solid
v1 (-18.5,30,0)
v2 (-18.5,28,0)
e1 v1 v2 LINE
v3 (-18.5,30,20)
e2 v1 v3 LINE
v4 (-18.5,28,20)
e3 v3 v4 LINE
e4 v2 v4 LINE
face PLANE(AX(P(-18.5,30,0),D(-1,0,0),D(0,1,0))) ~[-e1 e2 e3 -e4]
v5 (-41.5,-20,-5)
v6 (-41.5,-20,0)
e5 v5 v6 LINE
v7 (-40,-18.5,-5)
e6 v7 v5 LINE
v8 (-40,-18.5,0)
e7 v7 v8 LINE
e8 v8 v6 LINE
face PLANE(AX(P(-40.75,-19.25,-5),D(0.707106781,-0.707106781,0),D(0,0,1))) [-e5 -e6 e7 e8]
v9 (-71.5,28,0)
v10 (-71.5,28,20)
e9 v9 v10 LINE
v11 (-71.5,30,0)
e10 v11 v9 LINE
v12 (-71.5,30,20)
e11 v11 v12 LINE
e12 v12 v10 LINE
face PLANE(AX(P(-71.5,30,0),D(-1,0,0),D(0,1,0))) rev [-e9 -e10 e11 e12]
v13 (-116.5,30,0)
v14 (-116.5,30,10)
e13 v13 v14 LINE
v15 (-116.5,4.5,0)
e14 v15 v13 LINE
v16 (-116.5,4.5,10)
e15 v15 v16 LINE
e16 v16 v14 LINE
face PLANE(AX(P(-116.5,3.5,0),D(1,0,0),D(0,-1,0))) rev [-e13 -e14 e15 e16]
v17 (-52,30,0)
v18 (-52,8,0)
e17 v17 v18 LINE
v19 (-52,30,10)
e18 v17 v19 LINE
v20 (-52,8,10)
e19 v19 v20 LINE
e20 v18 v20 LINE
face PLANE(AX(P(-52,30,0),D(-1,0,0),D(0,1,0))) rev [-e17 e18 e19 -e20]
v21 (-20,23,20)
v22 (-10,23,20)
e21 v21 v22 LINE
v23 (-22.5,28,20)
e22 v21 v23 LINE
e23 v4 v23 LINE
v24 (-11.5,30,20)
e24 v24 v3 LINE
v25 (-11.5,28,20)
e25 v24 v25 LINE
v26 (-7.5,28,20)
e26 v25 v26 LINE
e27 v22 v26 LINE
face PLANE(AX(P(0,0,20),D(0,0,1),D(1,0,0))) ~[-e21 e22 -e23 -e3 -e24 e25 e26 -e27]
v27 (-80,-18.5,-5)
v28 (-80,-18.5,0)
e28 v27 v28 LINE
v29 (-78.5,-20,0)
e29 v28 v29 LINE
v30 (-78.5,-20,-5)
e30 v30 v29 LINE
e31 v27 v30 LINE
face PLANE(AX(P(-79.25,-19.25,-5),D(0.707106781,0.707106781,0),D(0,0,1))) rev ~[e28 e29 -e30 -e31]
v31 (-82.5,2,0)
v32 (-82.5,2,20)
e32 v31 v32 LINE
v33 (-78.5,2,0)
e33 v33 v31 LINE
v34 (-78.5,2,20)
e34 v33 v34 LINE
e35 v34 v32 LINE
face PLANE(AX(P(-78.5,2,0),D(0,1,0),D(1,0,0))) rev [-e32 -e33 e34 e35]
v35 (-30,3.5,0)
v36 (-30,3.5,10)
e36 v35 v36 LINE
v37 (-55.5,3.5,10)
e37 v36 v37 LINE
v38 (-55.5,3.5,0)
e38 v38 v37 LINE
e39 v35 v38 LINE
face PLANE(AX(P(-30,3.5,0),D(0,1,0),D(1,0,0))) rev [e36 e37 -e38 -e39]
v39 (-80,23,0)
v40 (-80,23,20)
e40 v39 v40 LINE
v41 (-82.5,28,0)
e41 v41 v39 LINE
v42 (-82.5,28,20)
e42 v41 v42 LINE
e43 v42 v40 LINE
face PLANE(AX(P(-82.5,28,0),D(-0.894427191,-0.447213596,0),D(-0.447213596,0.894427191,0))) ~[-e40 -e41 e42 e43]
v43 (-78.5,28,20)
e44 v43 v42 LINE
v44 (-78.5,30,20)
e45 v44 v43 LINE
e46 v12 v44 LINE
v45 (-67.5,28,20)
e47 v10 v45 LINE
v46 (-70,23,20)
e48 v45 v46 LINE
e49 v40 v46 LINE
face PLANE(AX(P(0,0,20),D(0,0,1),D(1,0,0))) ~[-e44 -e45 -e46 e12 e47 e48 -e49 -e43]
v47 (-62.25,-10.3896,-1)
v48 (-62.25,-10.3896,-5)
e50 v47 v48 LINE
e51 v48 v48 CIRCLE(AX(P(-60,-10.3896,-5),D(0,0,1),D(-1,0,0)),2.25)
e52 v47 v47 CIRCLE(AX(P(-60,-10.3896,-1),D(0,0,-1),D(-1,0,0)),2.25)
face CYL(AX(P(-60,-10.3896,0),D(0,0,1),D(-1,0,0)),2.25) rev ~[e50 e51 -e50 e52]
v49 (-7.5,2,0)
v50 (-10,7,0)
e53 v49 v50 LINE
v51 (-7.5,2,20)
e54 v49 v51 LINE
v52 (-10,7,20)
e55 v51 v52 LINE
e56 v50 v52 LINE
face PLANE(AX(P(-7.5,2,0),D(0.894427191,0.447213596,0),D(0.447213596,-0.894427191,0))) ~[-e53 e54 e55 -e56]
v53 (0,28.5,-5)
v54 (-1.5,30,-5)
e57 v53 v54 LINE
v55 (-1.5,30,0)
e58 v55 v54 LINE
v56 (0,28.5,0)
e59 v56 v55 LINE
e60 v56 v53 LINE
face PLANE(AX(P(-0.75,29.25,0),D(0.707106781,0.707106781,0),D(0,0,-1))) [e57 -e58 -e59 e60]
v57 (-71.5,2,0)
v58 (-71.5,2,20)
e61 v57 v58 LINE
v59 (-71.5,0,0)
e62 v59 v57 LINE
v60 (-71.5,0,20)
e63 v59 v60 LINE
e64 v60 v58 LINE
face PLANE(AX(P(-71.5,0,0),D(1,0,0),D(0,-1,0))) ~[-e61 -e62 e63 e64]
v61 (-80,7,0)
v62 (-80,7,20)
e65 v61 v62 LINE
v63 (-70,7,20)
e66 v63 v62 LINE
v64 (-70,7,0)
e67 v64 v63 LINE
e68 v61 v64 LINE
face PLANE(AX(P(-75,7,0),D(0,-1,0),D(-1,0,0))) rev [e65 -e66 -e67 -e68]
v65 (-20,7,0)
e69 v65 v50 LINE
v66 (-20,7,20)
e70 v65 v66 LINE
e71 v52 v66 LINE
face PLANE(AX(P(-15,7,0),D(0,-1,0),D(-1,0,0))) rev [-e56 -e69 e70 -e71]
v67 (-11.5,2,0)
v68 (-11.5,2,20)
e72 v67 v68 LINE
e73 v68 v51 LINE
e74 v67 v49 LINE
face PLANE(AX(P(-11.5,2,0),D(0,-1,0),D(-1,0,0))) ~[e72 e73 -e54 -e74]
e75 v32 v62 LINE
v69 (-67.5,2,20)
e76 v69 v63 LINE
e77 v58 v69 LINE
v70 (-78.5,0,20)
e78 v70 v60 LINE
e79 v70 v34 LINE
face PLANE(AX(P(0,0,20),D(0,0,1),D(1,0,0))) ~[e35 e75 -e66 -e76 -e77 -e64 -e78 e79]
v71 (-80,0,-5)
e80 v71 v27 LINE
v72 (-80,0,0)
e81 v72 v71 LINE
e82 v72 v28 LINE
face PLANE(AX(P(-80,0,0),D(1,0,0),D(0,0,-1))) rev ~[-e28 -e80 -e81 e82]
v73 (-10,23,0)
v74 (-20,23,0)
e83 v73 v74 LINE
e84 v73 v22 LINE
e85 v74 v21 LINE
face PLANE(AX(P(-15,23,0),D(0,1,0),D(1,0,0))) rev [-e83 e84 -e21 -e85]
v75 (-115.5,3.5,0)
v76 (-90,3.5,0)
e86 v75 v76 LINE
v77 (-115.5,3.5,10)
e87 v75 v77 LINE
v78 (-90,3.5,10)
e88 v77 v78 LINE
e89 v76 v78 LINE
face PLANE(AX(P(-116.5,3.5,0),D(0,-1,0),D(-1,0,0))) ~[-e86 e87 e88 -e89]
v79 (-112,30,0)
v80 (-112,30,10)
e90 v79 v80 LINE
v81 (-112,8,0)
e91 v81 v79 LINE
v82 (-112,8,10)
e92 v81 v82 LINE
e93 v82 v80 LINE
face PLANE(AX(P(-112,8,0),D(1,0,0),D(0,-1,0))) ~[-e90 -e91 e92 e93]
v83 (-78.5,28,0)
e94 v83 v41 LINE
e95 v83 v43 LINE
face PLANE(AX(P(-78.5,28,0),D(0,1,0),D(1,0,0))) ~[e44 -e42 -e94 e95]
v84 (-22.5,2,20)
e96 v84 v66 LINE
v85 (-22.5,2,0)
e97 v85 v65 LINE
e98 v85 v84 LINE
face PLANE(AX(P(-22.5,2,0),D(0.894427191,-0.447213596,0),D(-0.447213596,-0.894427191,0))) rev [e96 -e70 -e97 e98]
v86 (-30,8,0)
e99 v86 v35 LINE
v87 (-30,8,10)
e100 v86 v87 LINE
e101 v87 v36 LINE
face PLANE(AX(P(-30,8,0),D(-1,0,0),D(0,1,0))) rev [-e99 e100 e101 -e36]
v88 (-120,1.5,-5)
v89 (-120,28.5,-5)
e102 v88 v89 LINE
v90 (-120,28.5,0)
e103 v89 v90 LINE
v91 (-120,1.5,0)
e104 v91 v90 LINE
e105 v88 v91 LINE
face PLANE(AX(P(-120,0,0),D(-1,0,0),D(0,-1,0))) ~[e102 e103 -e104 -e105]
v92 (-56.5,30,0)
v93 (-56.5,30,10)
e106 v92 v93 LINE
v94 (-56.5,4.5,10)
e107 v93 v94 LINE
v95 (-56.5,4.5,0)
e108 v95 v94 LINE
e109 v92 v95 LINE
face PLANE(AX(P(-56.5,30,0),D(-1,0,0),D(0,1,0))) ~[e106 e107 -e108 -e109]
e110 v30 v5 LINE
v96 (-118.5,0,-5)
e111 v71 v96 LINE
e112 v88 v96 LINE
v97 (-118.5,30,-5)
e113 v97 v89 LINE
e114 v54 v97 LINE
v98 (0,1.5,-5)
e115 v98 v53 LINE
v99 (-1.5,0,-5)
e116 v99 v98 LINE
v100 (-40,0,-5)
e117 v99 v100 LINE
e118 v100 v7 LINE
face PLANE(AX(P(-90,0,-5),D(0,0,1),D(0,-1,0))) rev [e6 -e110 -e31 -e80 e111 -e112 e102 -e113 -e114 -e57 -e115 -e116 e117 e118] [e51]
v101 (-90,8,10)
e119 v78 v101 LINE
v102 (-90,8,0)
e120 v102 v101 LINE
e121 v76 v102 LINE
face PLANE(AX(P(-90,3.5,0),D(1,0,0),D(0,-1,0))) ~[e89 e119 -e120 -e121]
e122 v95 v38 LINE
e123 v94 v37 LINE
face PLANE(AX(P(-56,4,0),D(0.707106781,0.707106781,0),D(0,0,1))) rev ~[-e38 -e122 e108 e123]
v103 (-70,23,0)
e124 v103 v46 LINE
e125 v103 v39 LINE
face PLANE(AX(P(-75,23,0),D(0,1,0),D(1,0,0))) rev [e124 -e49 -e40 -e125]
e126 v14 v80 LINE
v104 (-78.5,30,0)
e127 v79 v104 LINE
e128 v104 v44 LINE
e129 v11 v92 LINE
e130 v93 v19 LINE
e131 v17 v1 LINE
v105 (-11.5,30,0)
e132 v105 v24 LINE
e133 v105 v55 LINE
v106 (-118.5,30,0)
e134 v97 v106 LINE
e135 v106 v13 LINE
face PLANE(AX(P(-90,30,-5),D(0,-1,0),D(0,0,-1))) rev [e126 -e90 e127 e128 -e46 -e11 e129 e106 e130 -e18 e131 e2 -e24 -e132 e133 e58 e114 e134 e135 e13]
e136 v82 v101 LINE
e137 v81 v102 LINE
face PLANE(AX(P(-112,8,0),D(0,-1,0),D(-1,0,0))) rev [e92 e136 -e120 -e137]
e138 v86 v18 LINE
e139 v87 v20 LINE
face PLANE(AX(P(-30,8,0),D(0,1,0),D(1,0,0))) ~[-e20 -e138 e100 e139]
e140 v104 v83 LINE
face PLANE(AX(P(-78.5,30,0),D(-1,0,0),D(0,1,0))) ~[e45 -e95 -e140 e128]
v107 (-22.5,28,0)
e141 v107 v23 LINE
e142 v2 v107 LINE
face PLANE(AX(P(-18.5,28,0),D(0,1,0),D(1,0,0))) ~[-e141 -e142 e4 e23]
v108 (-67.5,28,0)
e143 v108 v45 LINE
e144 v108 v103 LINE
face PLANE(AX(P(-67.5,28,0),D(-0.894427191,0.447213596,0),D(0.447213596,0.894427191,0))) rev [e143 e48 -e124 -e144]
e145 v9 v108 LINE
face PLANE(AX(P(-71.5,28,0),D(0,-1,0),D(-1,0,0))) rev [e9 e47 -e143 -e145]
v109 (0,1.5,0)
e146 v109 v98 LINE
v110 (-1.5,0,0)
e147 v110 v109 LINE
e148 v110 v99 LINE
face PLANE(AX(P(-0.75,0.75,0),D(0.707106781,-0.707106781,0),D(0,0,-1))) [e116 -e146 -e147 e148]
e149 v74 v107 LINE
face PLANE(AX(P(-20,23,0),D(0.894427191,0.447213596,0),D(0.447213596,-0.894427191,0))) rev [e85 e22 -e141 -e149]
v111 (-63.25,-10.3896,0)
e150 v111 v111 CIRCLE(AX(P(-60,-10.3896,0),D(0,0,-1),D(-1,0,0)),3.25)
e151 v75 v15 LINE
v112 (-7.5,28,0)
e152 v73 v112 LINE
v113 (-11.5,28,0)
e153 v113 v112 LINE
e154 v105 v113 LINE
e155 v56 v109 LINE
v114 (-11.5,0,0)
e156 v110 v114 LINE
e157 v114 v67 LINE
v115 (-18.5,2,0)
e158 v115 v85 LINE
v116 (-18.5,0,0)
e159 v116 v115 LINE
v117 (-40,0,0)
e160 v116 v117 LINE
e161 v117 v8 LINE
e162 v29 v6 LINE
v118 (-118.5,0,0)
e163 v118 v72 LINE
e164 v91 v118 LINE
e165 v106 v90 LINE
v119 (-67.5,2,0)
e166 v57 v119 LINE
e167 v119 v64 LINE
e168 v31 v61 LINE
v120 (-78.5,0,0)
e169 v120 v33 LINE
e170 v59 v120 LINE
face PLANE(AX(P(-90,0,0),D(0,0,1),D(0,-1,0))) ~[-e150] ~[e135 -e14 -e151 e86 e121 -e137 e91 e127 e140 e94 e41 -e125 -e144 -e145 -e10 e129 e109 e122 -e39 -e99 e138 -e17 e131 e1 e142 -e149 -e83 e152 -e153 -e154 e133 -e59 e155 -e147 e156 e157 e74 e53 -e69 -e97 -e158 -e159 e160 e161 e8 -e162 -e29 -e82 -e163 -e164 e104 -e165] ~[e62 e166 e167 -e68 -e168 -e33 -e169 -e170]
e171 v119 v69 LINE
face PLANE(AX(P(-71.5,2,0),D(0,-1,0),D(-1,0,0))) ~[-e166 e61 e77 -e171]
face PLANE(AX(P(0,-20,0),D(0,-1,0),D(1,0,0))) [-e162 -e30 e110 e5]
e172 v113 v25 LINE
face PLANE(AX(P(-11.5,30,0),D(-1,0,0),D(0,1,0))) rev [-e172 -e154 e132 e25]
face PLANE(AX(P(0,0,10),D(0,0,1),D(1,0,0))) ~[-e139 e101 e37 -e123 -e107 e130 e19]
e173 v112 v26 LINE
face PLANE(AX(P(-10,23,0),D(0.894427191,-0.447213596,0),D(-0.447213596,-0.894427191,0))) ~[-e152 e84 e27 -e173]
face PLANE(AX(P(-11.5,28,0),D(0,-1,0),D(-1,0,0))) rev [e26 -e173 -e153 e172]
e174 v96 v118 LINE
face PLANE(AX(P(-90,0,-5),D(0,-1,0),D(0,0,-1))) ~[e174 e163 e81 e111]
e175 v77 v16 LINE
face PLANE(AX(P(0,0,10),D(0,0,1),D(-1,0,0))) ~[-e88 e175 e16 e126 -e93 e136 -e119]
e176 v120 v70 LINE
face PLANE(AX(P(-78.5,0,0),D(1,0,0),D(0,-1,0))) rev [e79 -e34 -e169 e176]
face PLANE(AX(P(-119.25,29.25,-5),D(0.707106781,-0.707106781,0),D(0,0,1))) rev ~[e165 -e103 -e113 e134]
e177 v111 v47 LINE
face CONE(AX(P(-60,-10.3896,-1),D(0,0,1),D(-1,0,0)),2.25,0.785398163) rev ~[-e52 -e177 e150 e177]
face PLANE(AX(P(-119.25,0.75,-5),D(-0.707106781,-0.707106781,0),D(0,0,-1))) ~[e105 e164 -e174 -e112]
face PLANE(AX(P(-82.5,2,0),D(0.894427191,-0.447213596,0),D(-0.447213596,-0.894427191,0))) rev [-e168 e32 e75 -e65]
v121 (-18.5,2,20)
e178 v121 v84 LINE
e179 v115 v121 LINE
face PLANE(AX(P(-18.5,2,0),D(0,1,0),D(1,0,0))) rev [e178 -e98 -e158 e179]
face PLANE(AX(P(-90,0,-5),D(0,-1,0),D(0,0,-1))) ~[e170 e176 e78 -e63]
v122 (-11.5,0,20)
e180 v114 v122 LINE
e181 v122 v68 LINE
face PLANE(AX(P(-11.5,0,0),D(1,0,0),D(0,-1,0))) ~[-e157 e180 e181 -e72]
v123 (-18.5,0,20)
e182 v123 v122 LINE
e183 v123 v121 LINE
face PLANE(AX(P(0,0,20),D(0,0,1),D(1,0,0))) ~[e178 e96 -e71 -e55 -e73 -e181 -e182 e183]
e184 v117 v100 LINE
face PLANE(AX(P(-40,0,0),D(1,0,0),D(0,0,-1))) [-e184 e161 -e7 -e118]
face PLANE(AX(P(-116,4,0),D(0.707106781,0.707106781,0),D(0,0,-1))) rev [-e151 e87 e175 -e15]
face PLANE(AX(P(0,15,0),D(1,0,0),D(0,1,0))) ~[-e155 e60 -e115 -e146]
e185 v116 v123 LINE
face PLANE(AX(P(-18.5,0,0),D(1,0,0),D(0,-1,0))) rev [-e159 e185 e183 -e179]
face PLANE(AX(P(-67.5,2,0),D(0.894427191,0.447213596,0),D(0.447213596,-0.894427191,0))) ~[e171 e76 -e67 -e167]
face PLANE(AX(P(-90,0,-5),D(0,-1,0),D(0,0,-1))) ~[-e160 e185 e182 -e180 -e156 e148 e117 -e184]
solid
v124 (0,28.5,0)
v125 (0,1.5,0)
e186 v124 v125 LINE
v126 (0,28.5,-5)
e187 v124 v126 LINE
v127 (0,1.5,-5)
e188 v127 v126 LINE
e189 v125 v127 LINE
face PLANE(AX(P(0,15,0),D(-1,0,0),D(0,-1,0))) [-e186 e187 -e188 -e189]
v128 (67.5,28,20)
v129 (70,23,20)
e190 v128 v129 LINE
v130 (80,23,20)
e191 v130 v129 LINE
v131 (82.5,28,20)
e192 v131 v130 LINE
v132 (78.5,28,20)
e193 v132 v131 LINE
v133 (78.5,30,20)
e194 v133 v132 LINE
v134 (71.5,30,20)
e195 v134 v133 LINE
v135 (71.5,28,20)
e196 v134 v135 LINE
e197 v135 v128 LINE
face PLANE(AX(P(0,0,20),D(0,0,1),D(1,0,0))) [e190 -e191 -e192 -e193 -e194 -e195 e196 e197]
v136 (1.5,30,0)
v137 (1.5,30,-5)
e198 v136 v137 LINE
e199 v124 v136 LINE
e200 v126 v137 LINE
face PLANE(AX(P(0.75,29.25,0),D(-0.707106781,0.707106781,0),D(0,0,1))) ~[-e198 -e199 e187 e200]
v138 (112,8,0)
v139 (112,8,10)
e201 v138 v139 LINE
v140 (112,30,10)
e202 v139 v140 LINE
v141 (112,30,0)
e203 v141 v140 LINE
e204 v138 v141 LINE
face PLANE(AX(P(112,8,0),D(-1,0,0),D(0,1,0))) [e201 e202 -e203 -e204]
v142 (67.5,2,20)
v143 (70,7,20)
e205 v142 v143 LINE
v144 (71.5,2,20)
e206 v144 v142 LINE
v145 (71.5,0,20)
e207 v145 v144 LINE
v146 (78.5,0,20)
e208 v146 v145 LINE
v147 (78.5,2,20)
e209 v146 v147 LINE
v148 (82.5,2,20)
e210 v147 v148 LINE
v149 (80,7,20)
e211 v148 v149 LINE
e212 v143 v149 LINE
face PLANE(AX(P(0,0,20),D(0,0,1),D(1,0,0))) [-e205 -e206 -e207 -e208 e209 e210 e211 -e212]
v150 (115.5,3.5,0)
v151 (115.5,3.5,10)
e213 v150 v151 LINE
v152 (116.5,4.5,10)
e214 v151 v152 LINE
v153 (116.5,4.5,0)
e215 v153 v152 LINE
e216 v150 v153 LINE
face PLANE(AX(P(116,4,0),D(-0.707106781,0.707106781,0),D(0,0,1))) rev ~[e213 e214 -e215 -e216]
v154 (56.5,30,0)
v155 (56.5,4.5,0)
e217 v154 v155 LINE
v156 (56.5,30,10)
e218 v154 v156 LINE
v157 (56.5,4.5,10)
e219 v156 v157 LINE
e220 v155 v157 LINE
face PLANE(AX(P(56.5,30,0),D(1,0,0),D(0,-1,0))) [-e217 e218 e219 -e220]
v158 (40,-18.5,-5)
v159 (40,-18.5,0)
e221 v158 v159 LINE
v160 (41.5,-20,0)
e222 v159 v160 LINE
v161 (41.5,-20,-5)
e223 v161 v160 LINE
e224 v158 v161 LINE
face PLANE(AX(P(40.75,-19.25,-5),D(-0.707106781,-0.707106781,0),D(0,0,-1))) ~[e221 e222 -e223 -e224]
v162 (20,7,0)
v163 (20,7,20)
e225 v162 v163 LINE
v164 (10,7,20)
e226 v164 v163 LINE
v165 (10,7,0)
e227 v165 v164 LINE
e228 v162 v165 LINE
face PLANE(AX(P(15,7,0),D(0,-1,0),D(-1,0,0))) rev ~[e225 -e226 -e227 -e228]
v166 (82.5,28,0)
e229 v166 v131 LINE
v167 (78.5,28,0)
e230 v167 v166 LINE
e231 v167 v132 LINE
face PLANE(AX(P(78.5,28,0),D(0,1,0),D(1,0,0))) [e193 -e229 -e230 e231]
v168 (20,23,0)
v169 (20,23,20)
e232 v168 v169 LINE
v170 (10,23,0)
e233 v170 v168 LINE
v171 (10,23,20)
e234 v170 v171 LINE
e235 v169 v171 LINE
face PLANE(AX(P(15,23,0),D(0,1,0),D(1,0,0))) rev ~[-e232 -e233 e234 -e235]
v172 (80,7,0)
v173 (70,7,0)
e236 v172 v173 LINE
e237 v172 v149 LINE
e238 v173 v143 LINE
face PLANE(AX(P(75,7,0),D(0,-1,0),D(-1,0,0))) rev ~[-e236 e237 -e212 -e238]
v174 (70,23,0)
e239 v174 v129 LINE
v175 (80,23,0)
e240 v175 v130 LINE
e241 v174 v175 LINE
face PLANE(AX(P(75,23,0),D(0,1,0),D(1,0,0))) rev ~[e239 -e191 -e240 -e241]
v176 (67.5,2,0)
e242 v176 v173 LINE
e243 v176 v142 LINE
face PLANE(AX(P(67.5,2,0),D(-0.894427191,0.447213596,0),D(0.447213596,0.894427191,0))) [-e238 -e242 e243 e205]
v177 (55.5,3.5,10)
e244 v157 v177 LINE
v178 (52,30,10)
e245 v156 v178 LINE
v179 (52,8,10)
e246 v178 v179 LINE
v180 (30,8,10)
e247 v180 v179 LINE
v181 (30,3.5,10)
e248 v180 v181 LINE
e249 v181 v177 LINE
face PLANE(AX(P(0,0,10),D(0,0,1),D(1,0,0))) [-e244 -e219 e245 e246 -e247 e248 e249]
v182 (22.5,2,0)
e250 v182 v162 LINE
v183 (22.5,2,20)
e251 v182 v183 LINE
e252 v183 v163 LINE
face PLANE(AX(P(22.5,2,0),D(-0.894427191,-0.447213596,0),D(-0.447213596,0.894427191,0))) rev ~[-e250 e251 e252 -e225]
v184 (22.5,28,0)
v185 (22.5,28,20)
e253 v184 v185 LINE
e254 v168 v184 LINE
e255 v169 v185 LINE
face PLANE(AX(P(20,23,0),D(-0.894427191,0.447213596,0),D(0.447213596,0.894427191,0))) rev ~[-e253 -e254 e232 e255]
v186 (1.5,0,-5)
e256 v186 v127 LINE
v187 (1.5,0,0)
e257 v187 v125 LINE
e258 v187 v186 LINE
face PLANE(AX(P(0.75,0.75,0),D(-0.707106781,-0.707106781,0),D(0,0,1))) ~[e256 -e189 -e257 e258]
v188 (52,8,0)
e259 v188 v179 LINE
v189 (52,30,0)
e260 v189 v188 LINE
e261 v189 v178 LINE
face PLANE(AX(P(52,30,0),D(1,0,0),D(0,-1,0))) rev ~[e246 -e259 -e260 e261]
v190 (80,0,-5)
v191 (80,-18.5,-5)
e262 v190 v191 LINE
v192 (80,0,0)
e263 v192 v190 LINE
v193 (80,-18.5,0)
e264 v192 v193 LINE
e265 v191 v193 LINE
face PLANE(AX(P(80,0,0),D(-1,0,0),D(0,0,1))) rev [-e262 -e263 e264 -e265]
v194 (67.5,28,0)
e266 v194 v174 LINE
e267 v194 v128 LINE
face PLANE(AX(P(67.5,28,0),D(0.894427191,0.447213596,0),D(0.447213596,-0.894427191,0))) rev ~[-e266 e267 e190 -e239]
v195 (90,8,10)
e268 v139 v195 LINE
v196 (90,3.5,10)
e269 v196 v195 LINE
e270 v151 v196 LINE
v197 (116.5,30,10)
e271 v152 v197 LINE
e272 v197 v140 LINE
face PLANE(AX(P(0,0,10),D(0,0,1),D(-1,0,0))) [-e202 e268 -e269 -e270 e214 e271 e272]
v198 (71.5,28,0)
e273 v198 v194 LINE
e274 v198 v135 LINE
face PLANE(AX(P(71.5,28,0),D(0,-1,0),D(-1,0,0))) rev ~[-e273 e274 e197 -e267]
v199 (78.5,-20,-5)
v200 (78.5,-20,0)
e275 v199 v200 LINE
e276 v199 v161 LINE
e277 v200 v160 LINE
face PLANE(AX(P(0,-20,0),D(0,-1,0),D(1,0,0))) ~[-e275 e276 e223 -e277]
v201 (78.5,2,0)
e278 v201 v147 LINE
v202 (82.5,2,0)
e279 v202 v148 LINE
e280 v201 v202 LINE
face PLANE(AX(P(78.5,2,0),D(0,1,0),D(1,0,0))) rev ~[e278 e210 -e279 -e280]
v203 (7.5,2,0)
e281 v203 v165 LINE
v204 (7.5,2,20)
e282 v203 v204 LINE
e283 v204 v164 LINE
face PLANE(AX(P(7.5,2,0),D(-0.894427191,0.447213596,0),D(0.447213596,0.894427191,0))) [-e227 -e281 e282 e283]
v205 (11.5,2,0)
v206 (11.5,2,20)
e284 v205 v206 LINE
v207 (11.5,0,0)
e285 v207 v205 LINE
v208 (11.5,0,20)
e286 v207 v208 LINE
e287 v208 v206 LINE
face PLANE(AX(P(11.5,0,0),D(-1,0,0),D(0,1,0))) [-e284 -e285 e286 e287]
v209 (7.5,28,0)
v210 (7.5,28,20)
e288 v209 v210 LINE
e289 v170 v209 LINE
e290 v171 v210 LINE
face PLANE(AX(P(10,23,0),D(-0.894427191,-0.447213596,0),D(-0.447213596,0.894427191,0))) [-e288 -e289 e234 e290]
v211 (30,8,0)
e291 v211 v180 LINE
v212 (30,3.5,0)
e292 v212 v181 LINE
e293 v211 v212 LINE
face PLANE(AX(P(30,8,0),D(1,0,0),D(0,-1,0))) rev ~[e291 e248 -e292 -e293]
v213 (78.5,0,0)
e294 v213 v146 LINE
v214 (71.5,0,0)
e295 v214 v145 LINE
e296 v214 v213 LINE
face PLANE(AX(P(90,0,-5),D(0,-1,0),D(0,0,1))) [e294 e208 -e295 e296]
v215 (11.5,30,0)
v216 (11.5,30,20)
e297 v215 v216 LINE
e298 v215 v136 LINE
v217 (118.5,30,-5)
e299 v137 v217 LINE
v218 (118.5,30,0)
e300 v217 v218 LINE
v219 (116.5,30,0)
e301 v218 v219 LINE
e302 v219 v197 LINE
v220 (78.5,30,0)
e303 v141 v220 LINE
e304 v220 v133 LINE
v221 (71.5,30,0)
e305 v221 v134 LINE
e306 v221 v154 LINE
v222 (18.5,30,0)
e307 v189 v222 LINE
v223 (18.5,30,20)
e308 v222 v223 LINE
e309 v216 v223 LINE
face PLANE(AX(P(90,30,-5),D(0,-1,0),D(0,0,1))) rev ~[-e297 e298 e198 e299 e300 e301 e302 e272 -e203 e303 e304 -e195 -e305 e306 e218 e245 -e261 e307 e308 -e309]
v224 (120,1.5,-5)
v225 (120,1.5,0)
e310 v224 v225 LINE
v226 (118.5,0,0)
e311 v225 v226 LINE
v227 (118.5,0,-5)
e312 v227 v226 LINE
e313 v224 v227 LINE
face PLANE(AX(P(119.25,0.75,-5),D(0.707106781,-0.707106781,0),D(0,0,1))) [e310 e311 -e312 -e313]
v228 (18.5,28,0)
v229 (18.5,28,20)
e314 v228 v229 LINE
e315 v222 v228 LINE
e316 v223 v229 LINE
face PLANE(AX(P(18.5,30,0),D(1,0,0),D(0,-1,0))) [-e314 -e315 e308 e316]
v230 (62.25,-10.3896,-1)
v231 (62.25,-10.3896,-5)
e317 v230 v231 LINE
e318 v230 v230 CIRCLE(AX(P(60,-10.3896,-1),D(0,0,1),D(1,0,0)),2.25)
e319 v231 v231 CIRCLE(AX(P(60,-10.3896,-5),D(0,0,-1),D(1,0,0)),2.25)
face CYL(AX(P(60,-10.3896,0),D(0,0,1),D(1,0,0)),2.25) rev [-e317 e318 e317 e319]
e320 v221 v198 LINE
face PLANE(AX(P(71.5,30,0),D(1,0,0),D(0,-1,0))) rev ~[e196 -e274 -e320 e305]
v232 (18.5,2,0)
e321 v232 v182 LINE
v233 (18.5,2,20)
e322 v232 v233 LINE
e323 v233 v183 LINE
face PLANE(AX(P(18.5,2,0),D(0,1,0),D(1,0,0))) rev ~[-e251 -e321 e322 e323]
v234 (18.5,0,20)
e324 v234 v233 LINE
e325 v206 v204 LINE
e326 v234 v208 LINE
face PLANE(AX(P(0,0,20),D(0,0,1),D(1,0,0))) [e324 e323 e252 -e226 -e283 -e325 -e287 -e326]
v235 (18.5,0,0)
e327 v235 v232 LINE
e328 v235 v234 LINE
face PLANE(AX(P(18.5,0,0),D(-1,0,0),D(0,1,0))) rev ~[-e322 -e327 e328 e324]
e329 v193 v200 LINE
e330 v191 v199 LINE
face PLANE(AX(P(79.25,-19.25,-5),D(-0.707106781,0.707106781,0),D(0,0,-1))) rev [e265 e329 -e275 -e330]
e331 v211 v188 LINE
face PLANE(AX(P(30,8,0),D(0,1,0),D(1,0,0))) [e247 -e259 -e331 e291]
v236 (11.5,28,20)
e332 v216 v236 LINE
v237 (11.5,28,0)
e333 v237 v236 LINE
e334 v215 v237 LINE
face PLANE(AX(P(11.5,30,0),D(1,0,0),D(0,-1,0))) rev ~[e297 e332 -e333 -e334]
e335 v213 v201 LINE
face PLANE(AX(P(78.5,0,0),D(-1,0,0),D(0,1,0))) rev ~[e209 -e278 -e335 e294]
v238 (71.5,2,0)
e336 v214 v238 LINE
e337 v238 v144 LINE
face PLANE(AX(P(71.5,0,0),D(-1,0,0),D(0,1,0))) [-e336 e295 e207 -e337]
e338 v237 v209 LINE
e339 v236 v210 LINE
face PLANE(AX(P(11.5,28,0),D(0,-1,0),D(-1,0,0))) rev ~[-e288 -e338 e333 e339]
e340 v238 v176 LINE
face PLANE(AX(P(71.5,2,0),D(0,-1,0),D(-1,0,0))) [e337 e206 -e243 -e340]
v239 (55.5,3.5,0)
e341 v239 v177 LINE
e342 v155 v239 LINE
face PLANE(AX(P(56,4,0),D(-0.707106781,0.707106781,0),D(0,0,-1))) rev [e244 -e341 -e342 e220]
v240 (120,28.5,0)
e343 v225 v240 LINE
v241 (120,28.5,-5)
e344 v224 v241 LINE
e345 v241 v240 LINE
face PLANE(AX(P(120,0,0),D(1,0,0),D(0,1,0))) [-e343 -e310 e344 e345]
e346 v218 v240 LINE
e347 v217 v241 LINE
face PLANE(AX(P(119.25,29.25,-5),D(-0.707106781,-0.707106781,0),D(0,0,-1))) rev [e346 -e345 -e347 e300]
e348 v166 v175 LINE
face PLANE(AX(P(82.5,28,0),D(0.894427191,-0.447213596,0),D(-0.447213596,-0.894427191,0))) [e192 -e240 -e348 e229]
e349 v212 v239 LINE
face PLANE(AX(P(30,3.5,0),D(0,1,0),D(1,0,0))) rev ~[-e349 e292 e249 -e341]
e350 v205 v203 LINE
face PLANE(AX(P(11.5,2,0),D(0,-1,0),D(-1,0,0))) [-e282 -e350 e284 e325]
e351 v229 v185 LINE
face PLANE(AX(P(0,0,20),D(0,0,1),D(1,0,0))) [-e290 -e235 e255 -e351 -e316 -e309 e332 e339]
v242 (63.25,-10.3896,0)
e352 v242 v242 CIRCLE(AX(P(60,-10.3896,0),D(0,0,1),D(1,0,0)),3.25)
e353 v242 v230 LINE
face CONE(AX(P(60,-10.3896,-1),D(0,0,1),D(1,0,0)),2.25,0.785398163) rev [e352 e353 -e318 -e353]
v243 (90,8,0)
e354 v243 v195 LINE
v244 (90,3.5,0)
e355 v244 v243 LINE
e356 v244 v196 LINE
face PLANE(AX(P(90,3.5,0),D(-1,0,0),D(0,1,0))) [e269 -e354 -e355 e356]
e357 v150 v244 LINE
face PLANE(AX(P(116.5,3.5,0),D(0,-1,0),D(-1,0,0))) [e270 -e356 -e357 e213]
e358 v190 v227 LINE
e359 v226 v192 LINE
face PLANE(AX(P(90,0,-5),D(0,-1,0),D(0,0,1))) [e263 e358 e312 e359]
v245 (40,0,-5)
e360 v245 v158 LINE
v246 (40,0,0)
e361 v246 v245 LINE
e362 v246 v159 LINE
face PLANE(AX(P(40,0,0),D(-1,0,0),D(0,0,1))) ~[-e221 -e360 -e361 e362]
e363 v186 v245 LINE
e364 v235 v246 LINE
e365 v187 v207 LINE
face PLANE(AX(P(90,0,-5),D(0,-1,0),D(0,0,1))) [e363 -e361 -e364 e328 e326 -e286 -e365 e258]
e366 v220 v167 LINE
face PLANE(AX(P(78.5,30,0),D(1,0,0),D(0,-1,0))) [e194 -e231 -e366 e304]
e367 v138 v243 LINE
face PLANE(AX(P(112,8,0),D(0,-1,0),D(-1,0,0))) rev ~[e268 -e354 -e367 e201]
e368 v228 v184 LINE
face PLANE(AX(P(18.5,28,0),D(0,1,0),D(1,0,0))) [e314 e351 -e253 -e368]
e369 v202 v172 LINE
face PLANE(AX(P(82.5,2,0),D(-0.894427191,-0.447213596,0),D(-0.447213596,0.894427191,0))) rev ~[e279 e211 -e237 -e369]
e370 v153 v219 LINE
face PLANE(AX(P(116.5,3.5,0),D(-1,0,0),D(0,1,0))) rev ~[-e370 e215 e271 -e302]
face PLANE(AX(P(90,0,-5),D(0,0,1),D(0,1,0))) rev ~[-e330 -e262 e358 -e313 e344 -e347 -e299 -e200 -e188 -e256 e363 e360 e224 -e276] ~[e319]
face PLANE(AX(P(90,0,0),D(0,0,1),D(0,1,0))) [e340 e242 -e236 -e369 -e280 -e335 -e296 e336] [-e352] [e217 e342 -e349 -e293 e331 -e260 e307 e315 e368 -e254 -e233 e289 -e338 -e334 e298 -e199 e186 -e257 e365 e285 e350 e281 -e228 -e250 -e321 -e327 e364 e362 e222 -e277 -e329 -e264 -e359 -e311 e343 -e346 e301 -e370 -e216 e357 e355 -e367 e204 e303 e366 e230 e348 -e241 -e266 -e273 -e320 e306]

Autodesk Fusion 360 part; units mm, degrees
sketch "Sketch1" plane through (0, 0, 0) normal (0, 0, 1) x (1, 0, 0)
  line L0 (90, 0) -> (90, 30)
  line L1 (90, 30) -> (0, 30)
  line L2 (0, 30) -> (0, 0)
  line L3 (15, 30) -> (11.5, 30)
  line L4 (15, 30) -> (18.5, 30)
  line L5 (18.5, 30) -> (18.5, 28)
  line L6 (18.5, 28) -> (22.5, 28)
  line L7 (11.5, 30) -> (11.5, 28)
  line L8 (11.5, 28) -> (7.5, 28)
  line L9 (15, 23) -> (20, 23)
  line L10 (15, 23) -> (10, 23)
  line L11 (10, 23) -> (7.5, 28)
  line L12 (20, 23) -> (22.5, 28)
  line L13 (15, 7) -> (10, 7)
  line L14 (15, 7) -> (20, 7)
  line L15 (15, 0) -> (18.5, 0)
  line L16 (18.5, 0) -> (18.5, 2)
  line L17 (18.5, 2) -> (22.5, 2)
  line L18 (22.5, 2) -> (20, 7)
  line L19 (15, 0) -> (11.5, 0)
  line L20 (11.5, 0) -> (11.5, 2)
  line L21 (11.5, 2) -> (7.5, 2)
  line L22 (7.5, 2) -> (10, 7)
  line L23 (75, 30) -> (71.5, 30)
  line L24 (75, 30) -> (78.5, 30)
  line L25 (75, 23) -> (70, 23)
  line L26 (75, 23) -> (80, 23)
  line L27 (78.5, 30) -> (78.5, 28)
  line L28 (78.5, 28) -> (82.5, 28)
  line L29 (82.5, 28) -> (80, 23)
  line L30 (71.5, 30) -> (71.5, 28)
  line L31 (71.5, 28) -> (67.5, 28)
  line L32 (67.5, 28) -> (70, 23)
  line L33 (75, 0) -> (71.5, 0)
  line L34 (75, 7) -> (70, 7)
  line L35 (75, 7) -> (80, 7)
  line L36 (71.5, 0) -> (71.5, 2)
  line L37 (71.5, 2) -> (67.5, 2)
  line L38 (67.5, 2) -> (70, 7)
  line L39 (75, 0) -> (78.5, 0)
  line L40 (78.5, 0) -> (78.5, 2)
  line L41 (78.5, 2) -> (82.5, 2)
  line L42 (82.5, 2) -> (80, 7)
  line L43 (0, 15) -> (30, 15)
  line L44 (30, 30) -> (30, 0)
  line L45 (60, 30) -> (60, 0)
  line L46 (0, 0) -> (30, 0)
  line L47 (30, 0) -> (60, 0)
  line L48 (60, 0) -> (90, 0)
  line L49 (30, 3.5) -> (56.5, 3.5)
  line L50 (56.5, 30) -> (56.5, 3.5)
  line L51 (52, 30) -> (52, 8)
  line L52 (30, 8) -> (52, 8)
  dimension "d1" = 30
  dimension "d2" = 90
  dimension "d8" = 3.5
  dimension "d9" = 7
  dimension "d13" = 7
  dimension "d19" = 4
  dimension "d21" = 3.5
  dimension "d22" = 7
  dimension "d26" = 4
  dimension "d27" = 4
  dimension "d28" = 7
  dimension "d29" = 3.5
  dimension "d35" = 30
  dimension "d38" = 3.5
  dimension "d39" = -8
extrude "Extrude1" add sketch "Sketch1" against normal blind 5 makes body 1
extrude "Extrude2" add sketch "Sketch1" along normal blind 20 contours L33 L34 L35 L36 L37 L38 L39 L40 L41 L42 L48 | L1 L23 L24 L25 L26 L27 L28 L29 L30 L31 L32 | L13 L14 L15 L16 L17 L18 L19 L20 L21 L22 L46 | L1 L3 L4 L5 L6 L7 L8 L9 L10 L11 L12 bodies 1
extrude "Extrude3" add sketch "Sketch1" along normal blind 10 contours L1 L44 L49 L50 L51 L52 bodies 1
chamfer "Chamfer1" distance 1.5 angle 45 4 edges at (90, 0, -2.5) (90, 30, -2.5) (0, 0, -2.5) (0, 30, -2.5) on bodies 1
chamfer "Chamfer2" distance 1 angle 45 1 edges at (56.5, 3.5, 5) on bodies 1
delete_face "DeleteFace1" 1 faces at (89.5, 1, -1.6667) on bodies 1
delete_face "DeleteFace2" 1 faces at (89, 29.5, -3.3333) on bodies 1
extrude "Extrude4" add 1 faces at (90, 10, -1.6667) along direction (1, 0, 0) blind 30 on bodies 1 bodies 1
sketch "Sketch2" plane through (0, 0, 0) normal (0, 0, 1) x (-1, 0, 0)
  line L0 (-120, -30) -> (-78.5, -30)
  line L1 (-78.5, -30) -> (-78.5, -28)
  line L2 (-78.5, -28) -> (-82.5, -28)
  line L3 (-82.5, -28) -> (-80, -23)
  line L4 (-80, -23) -> (-70, -23)
  line L5 (-70, -23) -> (-67.5, -28)
  line L6 (-67.5, -28) -> (-71.5, -28)
  line L7 (-71.5, -28) -> (-71.5, -30)
  line L8 (-71.5, -30) -> (-56.5, -30)
  line L9 (-56.5, -30) -> (-56.5, -4.5)
  line L10 (-56.5, -4.5) -> (-55.5, -3.5)
  line L11 (-55.5, -3.5) -> (-30, -3.5)
  line L12 (-30, -3.5) -> (-30, -8)
  line L13 (-30, -8) -> (-52, -8)
  line L14 (-52, -8) -> (-52, -30)
  line L15 (-52, -30) -> (-18.5, -30)
  line L16 (-18.5, -30) -> (-18.5, -28)
  line L17 (-18.5, -28) -> (-22.5, -28)
  line L18 (-22.5, -28) -> (-20, -23)
  line L19 (-20, -23) -> (-10, -23)
  line L20 (-10, -23) -> (-7.5, -28)
  line L21 (-7.5, -28) -> (-11.5, -28)
  line L22 (-11.5, -28) -> (-11.5, -30)
  line L23 (-11.5, -30) -> (-1.5, -30)
  line L24 (-1.5, -30) -> (0, -28.5)
  line L25 (0, -28.5) -> (0, -1.5)
  line L26 (0, -1.5) -> (-1.5, 0)
  line L27 (-1.5, 0) -> (-11.5, 0)
  line L28 (-11.5, 0) -> (-11.5, -2)
  line L29 (-11.5, -2) -> (-7.5, -2)
  line L30 (-7.5, -2) -> (-10, -7)
  line L31 (-10, -7) -> (-20, -7)
  line L32 (-20, -7) -> (-22.5, -2)
  line L33 (-22.5, -2) -> (-18.5, -2)
  line L34 (-18.5, -2) -> (-18.5, 0)
  line L35 (-18.5, 0) -> (-71.5, 0)
  line L36 (-71.5, 0) -> (-71.5, -2)
  line L37 (-71.5, -2) -> (-67.5, -2)
  line L38 (-67.5, -2) -> (-70, -7)
  line L39 (-70, -7) -> (-80, -7)
  line L40 (-80, -7) -> (-82.5, -2)
  line L41 (-82.5, -2) -> (-78.5, -2)
  line L42 (-78.5, -2) -> (-78.5, 0)
  line L43 (-78.5, 0) -> (-120, 0)
  line L44 (-120, 0) -> (-120, -30)
  line L45 (-120, 0) -> (-90, 0)
  line L46 (-120, 0) -> (-120, -30)
  line L47 (-116.5, -3.5) -> (-90, -3.5)
  line L48 (-116.5, -3.5) -> (-116.5, -30)
  line L49 (-112, -8) -> (-112, -30)
  line L50 (-112, -8) -> (-90, -8)
  line L51 (-90, -3.5) -> (-90, -8)
  dimension "d50" = 30
  dimension "d51" = -3.5
  dimension "d52" = 8
extrude "Extrude5" add sketch "Sketch2" along normal blind 10 contours L0 L47 L48 L49 L50 L51 bodies 1
chamfer "Chamfer3" distance 1 angle 45 1 edges at (116.5, 3.5, 5) on bodies 1
chamfer "Chamfer4" distance 1.5 angle 45 2 edges at (120, 0, -2.5) (120, 30, -2.5) on bodies 1
mirror "Mirror1" about plane through (0, 0, 0) normal (1, 0, 0) of bodies 1 makes body 2
sketch "Sketch3" plane through (0, 0, 0) normal (0, -1, 0) x (1, 0, 0)
  line L0 (-118.5, 0) -> (-118.5, -5)
  line L1 (-118.5, -5) -> (-1.5, -5)
  line L2 (-1.5, -5) -> (-1.5, 0)
  line L3 (-1.5, 0) -> (-11.5, 0)
  line L4 (-11.5, 0) -> (-11.5, 20)
  line L5 (-11.5, 20) -> (-18.5, 20)
  line L6 (-18.5, 20) -> (-18.5, 0)
  line L7 (-18.5, 0) -> (-71.5, 0)
  line L8 (-71.5, 0) -> (-71.5, 20)
  line L9 (-71.5, 20) -> (-78.5, 20)
  line L10 (-78.5, 20) -> (-78.5, 0)
  line L11 (-78.5, 0) -> (-118.5, 0)
  line L12 (-118.5, 0) -> (-1.5, -5)
  line L13 (-60, -2.5) -> (-60, 0)
  line L14 (-60, 0) -> (-80, 0)
  line L15 (-80, 0) -> (-80, -5)
  line L16 (-60, 0) -> (-40, 0)
  line L17 (-40, 0) -> (-40, -5)
  dimension "d59" = 20
extrude "Extrude6" add sketch "Sketch3" along normal blind 20 contours L7 L11 L12 L13 L14 L15 | L1 L12 L15 L17 | L7 L12 L13 L16 L17 bodies 2
chamfer "Chamfer5" distance 1.5 angle 45 2 edges at (-80, -20, -2.5) (-40, -20, -2.5) on bodies 2
sketch "Sketch4" plane through (0, 0, 0) normal (0, 0, 1) x (-1, 0, 0)
  line L0 (78.5, 0) -> (78.5, -2)
  line L1 (78.5, -2) -> (82.5, -2)
  line L2 (82.5, -2) -> (80, -7)
  line L3 (80, -7) -> (70, -7)
  line L4 (70, -7) -> (67.5, -2)
  line L5 (67.5, -2) -> (71.5, -2)
  line L6 (71.5, -2) -> (71.5, 0)
  line L7 (71.5, 0) -> (78.5, 0)
  line L8 (41.5, 20) -> (40, 18.5)
  line L9 (40, 18.5) -> (40, 0)
  line L10 (40, 0) -> (18.5, 0)
  line L11 (18.5, 0) -> (18.5, -2)
  line L12 (18.5, -2) -> (22.5, -2)
  line L13 (22.5, -2) -> (20, -7)
  line L14 (20, -7) -> (10, -7)
  line L15 (10, -7) -> (7.5, -2)
  line L16 (7.5, -2) -> (11.5, -2)
  line L17 (11.5, -2) -> (11.5, 0)
  line L18 (11.5, 0) -> (1.5, 0)
  line L19 (1.5, 0) -> (0, -1.5)
  line L20 (0, -1.5) -> (0, -28.5)
  line L21 (0, -28.5) -> (1.5, -30)
  line L22 (1.5, -30) -> (11.5, -30)
  line L23 (11.5, -30) -> (11.5, -28)
  line L24 (11.5, -28) -> (7.5, -28)
  line L25 (7.5, -28) -> (10, -23)
  line L26 (10, -23) -> (20, -23)
  line L27 (20, -23) -> (22.5, -28)
  line L28 (22.5, -28) -> (18.5, -28)
  line L29 (18.5, -28) -> (18.5, -30)
  line L30 (18.5, -30) -> (52, -30)
  line L31 (52, -30) -> (52, -8)
  line L32 (52, -8) -> (30, -8)
  line L33 (30, -8) -> (30, -3.5)
  line L34 (30, -3.5) -> (55.5, -3.5)
  line L35 (55.5, -3.5) -> (56.5, -4.5)
  line L36 (56.5, -4.5) -> (56.5, -30)
  line L37 (56.5, -30) -> (71.5, -30)
  line L38 (71.5, -30) -> (71.5, -28)
  line L39 (71.5, -28) -> (67.5, -28)
  line L40 (67.5, -28) -> (70, -23)
  line L41 (70, -23) -> (80, -23)
  line L42 (80, -23) -> (82.5, -28)
  line L43 (82.5, -28) -> (78.5, -28)
  line L44 (78.5, -28) -> (78.5, -30)
  line L45 (78.5, -30) -> (112, -30)
  line L46 (112, -30) -> (112, -8)
  line L47 (112, -8) -> (90, -8)
  line L48 (90, -8) -> (90, -3.5)
  line L49 (90, -3.5) -> (115.5, -3.5)
  line L50 (115.5, -3.5) -> (116.5, -4.5)
  line L51 (116.5, -4.5) -> (116.5, -30)
  line L52 (116.5, -30) -> (118.5, -30)
  line L53 (118.5, -30) -> (120, -28.5)
  line L54 (120, -28.5) -> (120, -1.5)
  line L55 (120, -1.5) -> (118.5, 0)
  line L56 (118.5, 0) -> (80, 0)
  line L57 (80, 0) -> (80, 18.5)
  line L58 (80, 18.5) -> (78.5, 20)
  line L59 (78.5, 20) -> (41.5, 20)
  line L60 (41.5, 20) -> (80, 0)
  line L61 (78.5, 20) -> (40, 0)
  circle A0 centre (60, 10.3896) radius 2.25
  dimension "d63" = 4.5
extrude "Extrude7" cut sketch "Sketch4" against normal blind 50 contours L60 L61 A0 | L60 L61 A0 | L60 L61 A0 | L60 L61 A0 bodies 2
chamfer "Chamfer6" distance 1 angle 45 1 edges at (-57.9023, -11.2032, 0) on bodies 2
mirror "Mirror2" about plane through (0, 0, 0) normal (1, 0, 0) of bodies 2 makes body 3
hidden bodies 1
